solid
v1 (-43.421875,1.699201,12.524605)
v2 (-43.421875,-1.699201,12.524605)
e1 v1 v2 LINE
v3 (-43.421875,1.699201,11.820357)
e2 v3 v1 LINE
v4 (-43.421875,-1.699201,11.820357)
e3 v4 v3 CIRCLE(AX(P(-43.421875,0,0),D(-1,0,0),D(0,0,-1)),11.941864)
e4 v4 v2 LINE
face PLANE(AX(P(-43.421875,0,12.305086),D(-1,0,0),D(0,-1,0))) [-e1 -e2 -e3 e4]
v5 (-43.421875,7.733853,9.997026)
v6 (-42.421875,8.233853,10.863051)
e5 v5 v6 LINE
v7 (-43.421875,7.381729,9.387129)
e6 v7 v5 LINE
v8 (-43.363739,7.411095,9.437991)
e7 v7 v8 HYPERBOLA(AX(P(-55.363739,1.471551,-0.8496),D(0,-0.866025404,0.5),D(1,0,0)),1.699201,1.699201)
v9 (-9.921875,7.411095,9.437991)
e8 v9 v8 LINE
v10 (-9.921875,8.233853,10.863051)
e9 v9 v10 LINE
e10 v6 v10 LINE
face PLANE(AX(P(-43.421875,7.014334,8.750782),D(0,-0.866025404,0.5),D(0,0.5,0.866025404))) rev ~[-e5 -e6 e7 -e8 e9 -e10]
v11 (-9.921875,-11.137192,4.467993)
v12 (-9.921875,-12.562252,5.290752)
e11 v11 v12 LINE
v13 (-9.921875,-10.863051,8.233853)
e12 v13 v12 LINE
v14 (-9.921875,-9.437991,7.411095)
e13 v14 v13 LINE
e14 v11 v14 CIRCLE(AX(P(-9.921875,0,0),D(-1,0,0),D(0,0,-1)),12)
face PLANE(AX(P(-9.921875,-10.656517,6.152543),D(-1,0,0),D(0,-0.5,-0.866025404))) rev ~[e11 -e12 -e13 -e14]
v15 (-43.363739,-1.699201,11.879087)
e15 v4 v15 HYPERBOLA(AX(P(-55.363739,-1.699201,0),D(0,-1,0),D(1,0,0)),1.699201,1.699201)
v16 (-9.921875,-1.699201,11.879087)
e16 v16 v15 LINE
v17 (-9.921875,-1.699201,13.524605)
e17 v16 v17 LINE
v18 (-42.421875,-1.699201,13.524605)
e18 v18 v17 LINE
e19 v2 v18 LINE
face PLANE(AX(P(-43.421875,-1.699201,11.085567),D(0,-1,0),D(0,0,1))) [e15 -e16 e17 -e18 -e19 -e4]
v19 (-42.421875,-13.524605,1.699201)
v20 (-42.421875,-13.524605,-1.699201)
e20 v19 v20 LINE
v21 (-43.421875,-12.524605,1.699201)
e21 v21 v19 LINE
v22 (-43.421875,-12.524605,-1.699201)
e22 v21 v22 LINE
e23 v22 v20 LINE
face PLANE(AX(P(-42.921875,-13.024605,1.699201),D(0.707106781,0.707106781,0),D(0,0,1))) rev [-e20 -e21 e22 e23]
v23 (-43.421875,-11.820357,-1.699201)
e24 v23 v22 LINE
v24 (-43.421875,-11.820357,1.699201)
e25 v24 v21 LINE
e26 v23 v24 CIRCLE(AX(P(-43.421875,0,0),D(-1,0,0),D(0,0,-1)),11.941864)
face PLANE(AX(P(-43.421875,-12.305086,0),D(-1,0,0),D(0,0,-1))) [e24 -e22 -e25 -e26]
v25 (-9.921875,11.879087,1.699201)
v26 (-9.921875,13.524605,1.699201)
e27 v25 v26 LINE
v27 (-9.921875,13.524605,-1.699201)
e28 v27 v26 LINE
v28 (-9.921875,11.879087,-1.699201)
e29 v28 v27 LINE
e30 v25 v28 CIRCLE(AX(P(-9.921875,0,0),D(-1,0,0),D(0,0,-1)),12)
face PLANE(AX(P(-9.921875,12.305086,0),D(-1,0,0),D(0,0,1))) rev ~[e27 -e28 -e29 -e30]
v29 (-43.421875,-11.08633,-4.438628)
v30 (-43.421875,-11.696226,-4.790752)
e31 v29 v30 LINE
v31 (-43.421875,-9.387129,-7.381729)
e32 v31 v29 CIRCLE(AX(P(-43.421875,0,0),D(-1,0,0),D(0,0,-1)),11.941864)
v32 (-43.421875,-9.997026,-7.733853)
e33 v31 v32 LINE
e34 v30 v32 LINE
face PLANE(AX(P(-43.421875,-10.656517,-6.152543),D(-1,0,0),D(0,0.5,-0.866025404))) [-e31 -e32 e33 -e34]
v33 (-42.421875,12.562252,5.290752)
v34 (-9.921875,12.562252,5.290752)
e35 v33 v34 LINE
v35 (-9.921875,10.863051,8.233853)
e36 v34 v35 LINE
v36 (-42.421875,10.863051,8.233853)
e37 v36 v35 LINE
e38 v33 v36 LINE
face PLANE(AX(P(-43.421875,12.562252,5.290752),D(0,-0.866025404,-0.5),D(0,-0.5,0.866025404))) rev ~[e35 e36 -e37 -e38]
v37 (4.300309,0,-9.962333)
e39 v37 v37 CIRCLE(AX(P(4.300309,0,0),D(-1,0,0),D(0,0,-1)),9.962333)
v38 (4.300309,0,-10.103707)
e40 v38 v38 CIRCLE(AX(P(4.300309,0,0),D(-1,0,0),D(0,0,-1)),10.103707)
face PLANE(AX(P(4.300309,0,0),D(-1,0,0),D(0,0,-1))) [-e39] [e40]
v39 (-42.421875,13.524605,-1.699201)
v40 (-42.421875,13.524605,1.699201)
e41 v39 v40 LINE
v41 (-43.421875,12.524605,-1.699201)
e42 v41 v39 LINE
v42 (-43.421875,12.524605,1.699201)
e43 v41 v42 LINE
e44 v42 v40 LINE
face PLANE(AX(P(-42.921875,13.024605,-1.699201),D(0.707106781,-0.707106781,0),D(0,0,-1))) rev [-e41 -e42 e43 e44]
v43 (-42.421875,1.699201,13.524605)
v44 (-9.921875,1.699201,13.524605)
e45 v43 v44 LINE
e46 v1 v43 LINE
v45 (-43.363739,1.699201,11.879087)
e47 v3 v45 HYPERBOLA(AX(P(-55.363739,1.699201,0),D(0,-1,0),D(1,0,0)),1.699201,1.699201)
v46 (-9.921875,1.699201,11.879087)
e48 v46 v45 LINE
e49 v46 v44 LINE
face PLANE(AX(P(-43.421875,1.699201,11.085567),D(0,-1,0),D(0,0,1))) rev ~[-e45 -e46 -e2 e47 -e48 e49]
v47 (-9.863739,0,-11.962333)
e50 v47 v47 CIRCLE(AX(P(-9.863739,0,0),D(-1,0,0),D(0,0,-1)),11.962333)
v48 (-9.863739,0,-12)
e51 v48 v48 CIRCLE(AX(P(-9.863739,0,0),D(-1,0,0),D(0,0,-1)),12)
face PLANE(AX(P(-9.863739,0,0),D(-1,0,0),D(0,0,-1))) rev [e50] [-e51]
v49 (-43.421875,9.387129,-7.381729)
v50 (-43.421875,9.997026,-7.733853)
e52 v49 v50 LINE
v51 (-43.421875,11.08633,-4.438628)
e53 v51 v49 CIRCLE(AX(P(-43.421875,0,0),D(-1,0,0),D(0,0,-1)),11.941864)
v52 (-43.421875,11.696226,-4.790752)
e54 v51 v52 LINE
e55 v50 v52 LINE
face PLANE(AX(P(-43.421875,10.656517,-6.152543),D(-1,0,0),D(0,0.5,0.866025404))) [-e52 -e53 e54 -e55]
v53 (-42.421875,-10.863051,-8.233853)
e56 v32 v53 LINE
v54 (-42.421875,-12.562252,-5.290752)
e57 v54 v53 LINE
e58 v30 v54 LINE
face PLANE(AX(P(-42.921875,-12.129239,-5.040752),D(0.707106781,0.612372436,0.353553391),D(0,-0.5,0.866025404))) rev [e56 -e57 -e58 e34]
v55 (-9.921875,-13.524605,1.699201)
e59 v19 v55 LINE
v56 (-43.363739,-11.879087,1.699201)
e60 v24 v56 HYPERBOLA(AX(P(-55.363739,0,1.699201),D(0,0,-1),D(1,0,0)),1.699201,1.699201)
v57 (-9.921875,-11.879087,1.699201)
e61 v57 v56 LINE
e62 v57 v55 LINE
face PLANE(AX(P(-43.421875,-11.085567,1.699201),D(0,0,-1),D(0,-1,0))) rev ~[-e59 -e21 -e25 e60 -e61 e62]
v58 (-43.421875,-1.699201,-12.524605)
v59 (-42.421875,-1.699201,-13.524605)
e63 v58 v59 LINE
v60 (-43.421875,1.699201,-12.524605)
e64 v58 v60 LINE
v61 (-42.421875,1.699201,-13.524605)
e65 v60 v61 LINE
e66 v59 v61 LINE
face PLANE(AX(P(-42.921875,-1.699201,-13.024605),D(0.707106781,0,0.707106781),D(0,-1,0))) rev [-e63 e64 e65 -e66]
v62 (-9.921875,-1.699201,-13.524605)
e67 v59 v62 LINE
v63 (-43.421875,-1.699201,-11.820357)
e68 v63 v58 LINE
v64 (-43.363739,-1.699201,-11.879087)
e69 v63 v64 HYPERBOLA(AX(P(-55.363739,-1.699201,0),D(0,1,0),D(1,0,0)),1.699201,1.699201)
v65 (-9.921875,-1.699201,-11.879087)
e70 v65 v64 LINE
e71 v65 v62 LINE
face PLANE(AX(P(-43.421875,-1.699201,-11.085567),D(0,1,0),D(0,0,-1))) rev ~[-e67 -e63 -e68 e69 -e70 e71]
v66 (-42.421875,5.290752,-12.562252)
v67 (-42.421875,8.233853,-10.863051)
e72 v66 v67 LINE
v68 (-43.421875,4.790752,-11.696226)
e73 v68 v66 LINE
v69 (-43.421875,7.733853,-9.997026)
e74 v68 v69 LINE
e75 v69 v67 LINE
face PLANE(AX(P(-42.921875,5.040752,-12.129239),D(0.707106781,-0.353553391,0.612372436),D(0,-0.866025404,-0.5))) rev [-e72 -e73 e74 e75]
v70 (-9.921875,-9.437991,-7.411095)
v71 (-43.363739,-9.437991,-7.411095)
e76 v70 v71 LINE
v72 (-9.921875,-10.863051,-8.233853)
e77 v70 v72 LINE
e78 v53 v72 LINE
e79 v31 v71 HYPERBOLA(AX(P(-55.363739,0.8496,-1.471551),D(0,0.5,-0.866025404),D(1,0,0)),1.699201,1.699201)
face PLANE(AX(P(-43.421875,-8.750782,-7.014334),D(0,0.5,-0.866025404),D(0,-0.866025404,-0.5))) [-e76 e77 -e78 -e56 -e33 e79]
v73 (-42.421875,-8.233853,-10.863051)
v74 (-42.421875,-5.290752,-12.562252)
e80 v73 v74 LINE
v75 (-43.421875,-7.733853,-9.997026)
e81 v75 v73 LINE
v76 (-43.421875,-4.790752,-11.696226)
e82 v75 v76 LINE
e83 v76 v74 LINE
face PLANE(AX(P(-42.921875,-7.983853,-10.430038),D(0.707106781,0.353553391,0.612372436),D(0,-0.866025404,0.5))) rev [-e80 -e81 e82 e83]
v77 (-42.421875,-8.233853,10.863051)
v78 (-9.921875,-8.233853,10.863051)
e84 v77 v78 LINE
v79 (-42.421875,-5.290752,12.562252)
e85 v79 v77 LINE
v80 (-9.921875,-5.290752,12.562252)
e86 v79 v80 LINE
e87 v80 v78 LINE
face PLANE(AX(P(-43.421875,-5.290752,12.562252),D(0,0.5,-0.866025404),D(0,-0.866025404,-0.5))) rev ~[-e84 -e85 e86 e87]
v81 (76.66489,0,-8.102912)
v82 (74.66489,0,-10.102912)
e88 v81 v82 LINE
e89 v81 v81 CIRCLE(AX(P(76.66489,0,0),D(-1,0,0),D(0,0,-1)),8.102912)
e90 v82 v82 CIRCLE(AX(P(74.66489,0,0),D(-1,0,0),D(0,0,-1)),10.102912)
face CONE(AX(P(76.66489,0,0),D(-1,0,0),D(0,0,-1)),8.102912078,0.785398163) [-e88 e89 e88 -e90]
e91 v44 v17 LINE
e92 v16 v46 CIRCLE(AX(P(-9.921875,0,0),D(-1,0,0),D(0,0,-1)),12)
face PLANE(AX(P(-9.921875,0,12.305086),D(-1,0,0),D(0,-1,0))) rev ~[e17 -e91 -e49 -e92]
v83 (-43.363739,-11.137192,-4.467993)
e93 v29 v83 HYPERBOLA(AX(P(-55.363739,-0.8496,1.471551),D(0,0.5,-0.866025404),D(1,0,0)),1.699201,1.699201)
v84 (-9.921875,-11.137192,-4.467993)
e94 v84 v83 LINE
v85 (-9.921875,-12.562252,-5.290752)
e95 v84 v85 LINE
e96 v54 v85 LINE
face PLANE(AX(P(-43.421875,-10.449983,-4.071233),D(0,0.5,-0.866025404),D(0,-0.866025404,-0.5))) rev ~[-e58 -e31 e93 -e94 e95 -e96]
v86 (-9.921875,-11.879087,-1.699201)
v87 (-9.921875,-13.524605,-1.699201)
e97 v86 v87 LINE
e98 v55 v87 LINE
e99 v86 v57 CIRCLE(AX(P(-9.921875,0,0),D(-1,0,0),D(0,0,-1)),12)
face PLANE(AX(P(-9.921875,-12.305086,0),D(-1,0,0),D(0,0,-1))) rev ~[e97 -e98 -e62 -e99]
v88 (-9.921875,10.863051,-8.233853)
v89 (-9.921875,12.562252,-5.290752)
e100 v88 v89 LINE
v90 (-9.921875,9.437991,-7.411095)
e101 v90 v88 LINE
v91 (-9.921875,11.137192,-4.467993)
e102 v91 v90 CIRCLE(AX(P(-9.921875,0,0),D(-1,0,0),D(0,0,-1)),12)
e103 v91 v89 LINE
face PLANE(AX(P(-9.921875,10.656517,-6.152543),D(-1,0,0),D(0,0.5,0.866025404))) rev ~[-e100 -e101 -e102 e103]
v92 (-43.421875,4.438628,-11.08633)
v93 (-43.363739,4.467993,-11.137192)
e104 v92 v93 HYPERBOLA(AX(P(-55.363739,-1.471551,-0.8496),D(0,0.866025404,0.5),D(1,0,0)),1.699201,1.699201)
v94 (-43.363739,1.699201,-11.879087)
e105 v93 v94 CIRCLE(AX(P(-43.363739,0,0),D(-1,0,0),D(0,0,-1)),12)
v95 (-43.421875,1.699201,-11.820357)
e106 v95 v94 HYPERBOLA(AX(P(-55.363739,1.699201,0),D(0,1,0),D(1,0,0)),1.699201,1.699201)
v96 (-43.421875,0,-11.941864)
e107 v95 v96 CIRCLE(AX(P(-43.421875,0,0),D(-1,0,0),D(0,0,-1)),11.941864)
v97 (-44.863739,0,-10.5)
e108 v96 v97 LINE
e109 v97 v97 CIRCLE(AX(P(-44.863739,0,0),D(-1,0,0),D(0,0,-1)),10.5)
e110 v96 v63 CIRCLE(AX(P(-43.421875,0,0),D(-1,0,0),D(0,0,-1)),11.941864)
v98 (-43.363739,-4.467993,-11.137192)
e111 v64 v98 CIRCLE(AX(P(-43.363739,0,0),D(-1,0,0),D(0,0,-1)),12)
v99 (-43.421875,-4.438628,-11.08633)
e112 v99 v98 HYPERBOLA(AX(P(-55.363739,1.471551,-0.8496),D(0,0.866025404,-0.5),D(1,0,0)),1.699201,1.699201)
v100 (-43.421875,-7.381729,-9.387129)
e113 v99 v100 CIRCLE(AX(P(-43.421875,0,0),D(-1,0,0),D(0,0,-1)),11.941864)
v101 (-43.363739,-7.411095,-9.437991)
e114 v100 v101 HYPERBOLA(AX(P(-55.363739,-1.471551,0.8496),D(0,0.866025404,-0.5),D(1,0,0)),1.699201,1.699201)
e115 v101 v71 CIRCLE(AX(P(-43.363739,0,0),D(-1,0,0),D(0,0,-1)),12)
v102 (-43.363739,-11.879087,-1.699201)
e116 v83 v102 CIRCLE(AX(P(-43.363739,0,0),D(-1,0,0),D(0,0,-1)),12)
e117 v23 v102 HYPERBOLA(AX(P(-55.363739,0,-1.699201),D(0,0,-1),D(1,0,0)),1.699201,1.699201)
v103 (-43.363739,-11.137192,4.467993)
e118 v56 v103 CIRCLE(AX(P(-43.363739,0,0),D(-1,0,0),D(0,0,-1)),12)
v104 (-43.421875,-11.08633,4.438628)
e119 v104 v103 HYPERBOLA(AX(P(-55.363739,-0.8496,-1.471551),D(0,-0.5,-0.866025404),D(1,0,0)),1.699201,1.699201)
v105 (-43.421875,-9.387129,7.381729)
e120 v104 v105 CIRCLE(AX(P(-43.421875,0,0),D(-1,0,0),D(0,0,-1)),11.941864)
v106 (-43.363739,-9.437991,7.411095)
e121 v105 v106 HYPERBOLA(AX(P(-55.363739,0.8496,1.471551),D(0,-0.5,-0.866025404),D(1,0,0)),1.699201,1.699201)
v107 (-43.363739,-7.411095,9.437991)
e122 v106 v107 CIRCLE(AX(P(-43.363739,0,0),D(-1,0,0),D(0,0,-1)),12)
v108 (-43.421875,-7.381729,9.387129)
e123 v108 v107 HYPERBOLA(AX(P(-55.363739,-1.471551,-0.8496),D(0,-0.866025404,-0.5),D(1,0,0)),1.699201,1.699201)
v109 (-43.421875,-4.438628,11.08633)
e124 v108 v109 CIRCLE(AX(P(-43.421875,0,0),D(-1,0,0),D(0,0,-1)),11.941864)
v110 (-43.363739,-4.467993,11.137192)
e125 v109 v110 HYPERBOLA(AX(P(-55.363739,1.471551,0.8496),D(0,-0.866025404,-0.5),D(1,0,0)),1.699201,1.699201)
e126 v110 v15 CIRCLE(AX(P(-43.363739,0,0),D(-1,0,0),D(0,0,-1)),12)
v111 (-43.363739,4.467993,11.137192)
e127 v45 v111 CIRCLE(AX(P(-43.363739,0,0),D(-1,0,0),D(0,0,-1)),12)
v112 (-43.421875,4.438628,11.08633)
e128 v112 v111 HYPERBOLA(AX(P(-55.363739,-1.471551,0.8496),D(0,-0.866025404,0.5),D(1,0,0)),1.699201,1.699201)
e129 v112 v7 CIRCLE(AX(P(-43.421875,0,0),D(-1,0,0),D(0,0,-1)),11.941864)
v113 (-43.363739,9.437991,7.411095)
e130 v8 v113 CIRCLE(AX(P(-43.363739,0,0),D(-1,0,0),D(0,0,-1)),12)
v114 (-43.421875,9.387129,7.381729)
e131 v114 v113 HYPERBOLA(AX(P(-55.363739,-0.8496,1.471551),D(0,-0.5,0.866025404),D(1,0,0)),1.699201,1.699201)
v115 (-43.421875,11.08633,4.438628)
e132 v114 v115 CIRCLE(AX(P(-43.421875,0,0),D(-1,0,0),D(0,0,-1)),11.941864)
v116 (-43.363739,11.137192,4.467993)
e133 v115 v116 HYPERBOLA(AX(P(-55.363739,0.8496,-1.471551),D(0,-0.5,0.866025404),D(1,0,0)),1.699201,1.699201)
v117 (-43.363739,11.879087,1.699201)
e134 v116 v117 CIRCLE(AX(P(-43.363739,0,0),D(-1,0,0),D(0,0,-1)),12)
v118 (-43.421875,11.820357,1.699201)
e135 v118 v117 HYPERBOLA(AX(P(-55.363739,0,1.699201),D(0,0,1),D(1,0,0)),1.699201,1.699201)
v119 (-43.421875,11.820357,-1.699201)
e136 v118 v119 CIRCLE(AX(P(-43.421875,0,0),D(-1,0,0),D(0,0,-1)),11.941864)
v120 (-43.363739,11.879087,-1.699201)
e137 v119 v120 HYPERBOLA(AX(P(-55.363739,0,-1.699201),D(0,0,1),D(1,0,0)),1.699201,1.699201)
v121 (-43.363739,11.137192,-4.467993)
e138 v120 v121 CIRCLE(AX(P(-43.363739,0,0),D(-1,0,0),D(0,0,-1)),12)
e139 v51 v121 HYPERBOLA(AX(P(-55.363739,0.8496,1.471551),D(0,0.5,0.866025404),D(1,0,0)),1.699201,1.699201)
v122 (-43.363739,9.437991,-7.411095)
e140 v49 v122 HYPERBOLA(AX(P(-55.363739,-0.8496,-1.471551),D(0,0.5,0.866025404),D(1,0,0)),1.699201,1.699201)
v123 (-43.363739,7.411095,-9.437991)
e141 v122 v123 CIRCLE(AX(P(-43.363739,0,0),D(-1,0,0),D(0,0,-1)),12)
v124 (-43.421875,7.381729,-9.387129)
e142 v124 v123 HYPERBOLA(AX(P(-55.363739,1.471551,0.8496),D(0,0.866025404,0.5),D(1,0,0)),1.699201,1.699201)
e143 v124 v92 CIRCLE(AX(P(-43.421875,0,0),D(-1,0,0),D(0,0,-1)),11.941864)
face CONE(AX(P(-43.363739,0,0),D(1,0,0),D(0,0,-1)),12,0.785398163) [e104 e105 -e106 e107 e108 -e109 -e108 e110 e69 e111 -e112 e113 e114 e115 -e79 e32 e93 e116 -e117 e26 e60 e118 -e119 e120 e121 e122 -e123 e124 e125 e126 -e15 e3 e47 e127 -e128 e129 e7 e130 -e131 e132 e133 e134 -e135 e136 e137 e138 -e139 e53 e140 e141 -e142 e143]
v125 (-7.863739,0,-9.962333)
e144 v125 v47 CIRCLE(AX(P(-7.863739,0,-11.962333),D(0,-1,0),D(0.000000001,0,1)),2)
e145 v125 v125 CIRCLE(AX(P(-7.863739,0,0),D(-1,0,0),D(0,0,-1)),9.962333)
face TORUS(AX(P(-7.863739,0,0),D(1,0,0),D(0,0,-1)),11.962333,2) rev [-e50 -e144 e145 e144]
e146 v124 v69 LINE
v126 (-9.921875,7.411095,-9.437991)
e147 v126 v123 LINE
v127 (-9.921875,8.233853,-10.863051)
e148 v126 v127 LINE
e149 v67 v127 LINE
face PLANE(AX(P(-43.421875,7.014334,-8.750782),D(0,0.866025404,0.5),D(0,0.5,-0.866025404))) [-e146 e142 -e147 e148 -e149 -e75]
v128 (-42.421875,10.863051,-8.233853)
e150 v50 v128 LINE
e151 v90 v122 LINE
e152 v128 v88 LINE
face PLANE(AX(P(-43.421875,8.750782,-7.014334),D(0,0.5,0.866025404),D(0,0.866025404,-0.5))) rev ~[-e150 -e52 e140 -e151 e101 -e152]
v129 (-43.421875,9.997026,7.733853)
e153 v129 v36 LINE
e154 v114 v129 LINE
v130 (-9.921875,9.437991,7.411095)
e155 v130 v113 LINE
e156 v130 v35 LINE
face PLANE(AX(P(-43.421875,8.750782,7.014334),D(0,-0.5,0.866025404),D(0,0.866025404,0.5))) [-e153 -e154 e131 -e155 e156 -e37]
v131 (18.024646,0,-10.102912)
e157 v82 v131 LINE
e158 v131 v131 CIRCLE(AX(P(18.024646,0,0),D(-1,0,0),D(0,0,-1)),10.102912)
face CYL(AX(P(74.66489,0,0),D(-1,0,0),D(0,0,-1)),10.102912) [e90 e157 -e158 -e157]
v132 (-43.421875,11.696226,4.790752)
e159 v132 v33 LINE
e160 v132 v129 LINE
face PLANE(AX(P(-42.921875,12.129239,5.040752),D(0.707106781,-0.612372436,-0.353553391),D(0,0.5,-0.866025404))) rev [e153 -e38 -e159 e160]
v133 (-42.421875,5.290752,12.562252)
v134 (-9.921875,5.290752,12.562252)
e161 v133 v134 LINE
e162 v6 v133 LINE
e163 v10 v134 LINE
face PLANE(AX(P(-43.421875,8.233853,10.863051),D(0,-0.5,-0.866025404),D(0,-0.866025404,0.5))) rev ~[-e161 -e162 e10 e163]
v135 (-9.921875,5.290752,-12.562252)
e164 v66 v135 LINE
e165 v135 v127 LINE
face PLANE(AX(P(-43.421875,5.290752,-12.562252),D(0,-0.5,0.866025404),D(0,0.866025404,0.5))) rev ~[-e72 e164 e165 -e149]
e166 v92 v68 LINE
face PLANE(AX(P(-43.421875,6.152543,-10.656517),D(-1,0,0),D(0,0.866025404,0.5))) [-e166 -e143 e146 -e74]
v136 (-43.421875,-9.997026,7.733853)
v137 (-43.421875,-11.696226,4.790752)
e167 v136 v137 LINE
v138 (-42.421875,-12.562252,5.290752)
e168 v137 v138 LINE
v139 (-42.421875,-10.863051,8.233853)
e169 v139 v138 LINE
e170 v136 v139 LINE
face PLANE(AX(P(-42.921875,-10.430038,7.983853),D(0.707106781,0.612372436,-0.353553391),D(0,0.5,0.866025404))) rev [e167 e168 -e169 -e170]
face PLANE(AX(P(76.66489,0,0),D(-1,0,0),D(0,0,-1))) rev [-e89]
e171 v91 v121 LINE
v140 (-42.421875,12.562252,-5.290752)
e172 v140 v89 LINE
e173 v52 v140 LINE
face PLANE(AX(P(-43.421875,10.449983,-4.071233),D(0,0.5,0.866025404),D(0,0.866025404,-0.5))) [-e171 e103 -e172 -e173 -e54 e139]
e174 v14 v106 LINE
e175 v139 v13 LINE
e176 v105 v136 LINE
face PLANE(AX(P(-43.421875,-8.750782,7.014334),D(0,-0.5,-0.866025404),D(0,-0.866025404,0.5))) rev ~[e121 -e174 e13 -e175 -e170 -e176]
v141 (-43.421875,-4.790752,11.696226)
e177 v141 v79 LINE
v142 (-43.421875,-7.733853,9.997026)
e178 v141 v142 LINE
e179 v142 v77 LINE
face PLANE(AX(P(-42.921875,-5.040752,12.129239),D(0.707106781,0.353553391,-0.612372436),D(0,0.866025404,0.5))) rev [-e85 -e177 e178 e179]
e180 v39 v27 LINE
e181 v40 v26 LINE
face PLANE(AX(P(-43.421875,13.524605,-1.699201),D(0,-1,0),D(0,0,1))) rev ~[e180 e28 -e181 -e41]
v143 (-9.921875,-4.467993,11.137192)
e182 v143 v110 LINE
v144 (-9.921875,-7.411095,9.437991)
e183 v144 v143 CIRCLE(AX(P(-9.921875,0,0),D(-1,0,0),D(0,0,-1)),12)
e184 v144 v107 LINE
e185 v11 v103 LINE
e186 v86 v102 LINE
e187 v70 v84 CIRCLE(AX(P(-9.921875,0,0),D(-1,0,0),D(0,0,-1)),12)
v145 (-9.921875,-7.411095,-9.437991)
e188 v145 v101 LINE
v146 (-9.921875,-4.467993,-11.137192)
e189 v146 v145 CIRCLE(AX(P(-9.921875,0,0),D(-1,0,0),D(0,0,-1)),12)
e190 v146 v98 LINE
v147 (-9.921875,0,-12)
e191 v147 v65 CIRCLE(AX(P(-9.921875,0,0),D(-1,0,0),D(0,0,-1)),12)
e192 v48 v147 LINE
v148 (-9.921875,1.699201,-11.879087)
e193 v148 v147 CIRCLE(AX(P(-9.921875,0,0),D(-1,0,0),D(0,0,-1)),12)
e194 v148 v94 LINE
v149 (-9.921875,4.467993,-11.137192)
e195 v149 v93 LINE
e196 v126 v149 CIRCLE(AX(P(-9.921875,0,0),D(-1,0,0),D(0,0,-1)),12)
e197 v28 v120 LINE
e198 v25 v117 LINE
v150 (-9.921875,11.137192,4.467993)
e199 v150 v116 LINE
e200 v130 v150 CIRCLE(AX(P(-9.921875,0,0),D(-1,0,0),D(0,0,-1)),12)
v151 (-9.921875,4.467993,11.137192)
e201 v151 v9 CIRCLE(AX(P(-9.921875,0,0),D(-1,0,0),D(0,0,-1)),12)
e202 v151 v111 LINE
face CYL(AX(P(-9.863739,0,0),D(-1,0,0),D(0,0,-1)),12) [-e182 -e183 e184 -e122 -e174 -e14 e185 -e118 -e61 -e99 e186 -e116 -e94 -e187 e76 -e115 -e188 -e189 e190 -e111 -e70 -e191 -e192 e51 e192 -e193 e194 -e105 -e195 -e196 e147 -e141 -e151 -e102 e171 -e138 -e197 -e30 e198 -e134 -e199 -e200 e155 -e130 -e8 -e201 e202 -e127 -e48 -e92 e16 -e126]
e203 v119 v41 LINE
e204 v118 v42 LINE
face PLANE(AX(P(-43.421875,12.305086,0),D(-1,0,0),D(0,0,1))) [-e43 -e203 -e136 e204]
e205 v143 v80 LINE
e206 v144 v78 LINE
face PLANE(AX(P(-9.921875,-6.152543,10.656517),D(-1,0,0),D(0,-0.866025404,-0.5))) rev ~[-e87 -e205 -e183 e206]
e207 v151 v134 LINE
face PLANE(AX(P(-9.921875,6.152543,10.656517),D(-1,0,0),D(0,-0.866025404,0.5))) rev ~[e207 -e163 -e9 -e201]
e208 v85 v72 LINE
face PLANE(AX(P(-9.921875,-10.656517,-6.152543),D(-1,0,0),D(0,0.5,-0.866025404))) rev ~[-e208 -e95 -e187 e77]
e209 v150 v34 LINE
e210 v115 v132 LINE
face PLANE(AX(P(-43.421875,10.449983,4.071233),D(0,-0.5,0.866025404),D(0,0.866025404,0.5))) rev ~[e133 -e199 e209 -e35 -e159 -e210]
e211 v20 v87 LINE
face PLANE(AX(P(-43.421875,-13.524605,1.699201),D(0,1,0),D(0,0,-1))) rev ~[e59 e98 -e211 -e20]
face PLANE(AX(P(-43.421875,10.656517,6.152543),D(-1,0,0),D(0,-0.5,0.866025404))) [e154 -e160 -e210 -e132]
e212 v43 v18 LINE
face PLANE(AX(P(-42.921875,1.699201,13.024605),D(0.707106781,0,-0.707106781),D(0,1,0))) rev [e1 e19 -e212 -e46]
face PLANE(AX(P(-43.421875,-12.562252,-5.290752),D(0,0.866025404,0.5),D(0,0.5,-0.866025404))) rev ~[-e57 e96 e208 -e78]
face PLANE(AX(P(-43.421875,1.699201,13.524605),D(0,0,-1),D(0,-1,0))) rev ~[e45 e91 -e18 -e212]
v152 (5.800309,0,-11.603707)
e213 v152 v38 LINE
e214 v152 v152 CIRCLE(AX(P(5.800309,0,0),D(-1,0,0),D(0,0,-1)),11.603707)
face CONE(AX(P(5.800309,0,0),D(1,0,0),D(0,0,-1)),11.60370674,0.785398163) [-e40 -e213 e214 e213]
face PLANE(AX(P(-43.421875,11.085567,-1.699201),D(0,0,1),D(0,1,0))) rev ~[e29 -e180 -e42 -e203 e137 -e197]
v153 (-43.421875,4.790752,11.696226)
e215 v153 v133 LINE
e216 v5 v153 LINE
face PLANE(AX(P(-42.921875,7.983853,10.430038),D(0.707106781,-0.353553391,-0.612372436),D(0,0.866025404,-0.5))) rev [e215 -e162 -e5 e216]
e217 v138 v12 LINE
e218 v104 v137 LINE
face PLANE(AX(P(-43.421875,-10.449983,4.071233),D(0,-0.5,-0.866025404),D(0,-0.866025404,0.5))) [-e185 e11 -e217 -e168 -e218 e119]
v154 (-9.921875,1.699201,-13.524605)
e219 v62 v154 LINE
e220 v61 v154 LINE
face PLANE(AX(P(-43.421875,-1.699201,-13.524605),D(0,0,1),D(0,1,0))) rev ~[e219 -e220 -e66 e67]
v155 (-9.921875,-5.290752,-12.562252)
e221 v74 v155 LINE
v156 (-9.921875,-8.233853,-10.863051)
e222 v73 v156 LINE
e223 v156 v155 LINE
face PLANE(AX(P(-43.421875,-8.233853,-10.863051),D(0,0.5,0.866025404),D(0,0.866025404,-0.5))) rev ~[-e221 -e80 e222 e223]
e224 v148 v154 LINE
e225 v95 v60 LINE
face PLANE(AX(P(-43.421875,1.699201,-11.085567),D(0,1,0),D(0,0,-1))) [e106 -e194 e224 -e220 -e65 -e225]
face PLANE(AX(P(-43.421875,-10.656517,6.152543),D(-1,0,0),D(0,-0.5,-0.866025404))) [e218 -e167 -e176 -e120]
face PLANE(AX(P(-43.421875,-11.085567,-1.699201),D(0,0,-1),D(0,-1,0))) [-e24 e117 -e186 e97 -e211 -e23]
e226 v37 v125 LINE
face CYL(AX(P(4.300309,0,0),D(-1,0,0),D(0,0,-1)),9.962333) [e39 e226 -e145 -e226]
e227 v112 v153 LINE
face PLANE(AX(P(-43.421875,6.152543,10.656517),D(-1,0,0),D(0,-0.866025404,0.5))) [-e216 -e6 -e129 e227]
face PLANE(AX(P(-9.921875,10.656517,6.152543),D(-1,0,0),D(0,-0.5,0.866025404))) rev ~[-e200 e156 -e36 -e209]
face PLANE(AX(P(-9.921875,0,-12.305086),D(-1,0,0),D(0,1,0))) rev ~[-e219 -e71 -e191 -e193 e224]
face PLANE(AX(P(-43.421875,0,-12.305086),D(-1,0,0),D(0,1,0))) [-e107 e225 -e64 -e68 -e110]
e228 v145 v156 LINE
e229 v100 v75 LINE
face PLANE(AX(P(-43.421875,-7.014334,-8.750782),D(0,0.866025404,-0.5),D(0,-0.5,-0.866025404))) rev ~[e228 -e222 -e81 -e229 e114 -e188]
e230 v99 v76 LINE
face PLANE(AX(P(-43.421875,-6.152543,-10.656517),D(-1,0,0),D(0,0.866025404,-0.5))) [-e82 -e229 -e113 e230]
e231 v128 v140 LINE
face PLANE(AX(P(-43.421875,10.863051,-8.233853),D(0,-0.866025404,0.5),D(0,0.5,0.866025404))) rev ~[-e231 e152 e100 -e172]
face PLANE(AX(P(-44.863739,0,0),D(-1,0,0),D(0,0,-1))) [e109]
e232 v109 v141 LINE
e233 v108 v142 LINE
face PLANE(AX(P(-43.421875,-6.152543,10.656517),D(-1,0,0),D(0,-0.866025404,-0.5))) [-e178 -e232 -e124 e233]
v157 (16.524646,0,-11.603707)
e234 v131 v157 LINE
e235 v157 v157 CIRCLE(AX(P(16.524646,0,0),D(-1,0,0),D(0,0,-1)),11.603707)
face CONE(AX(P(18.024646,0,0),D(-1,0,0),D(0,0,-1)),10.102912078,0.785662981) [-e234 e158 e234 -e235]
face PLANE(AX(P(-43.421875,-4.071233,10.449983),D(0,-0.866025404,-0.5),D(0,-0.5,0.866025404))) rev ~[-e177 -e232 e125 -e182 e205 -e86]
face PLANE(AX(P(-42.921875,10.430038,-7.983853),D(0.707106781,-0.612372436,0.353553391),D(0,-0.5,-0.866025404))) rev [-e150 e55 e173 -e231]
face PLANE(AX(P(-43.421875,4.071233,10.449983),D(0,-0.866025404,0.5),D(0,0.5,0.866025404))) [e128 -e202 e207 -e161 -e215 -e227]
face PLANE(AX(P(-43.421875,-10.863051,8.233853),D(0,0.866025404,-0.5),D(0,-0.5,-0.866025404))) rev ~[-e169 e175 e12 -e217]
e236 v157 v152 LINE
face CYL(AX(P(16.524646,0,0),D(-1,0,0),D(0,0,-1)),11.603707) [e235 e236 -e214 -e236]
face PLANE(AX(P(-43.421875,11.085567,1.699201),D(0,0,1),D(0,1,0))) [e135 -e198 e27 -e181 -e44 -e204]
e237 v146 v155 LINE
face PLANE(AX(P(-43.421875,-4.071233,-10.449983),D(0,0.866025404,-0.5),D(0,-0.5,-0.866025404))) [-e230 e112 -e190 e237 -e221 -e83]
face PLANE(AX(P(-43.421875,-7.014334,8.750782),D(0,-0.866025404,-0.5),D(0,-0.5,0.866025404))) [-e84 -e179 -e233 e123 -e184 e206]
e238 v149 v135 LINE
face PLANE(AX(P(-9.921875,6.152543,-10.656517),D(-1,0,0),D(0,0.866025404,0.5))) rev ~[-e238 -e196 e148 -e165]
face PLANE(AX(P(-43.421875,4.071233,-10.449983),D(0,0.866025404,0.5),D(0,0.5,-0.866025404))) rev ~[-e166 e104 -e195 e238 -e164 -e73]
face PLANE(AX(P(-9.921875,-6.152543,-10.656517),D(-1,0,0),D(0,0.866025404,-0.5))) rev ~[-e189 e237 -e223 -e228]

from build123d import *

# Parameters (mm, degrees)
BOSS_EXTRUDE1_START = -1.5
SKETCH2_W           = 3.398401164
SKETCH2_H           = 2.43903778
BOSS_EXTRUDE1_DEPTH = 33.5
CIRPATTERN1_COUNT   = 12
CHAMFER1_SIZE       = 1


with BuildPart() as part:
    # Sketch1 → Revolve1 (revolve)
    with BuildSketch(Plane(origin=(0, 0, 0), x_dir=(1, 0, 0), z_dir=(0, 1, 0))):
        with BuildLine():
            Line((-44.863739249, 0), (76.664890153, 0))
            Line((76.664890153, 0), (76.664890153, 8.102912078))
            Line((76.664890153, 8.102912078), (74.664890153, 10.102912078))
            Line((74.664890153, 10.102912078), (18.02464627, 10.102912078))
            Line((18.02464627, 10.102912078), (16.52464627, 11.60370674))
            Line((16.52464627, 11.60370674), (5.800309153, 11.60370674))
            Line((5.800309153, 11.60370674), (4.300309153, 10.10370674))
            Line((4.300309153, 10.10370674), (4.300309153, 9.962333128))
            Line((4.300309153, 9.962333128), (-7.863739249, 9.962333128))
            ThreePointArc((-7.863739249, 9.962333128), (-9.277952812, 10.548119565), (-9.863739249, 11.962333128))
            Line((-9.863739249, 11.962333128), (-9.863739249, 12))
            Line((-9.863739249, 12), (-43.363739249, 12))
            Line((-43.363739249, 12), (-44.863739249, 10.5))
            Line((-44.863739249, 10.5), (-44.863739249, 0))
        make_face()
    revolve(axis=Axis((77.994791667, 0, 0), (-1, 0, 0)))

    # Sketch2 → Boss-Extrude1 (add)
    with BuildSketch(Plane.ZY.offset(44.921875).offset(BOSS_EXTRUDE1_START)):
        with Locations((0, 12.305085941)):
            Rectangle(SKETCH2_W, SKETCH2_H)
    boss_extrude1 = extrude(amount=-BOSS_EXTRUDE1_DEPTH)

    # CirPattern1: Boss-Extrude1 ×12 about axis
    cirpattern1_axis = Axis((0, 0, 0), (1, 0, 0))
    for i in range(1, CIRPATTERN1_COUNT):
        add(boss_extrude1.rotate(cirpattern1_axis, i * 360 / CIRPATTERN1_COUNT))

    # Chamfer1
    chamfer1_edges = [part.edges().sort_by_distance(p)[0] for p in [
        (-43.421875, -11.71265136, 6.762302416),
        (-43.421875, -13.524604831, 0),
        (-43.421875, -11.71265136, -6.762302416),
        (-43.421875, -6.762302416, -11.71265136),
        (-43.421875, 0, -13.524604831),
        (-43.421875, 6.762302416, -11.71265136),
        (-43.421875, 11.71265136, -6.762302416),
        (-43.421875, 13.524604831, 0),
        (-43.421875, 11.71265136, 6.762302416),
        (-43.421875, 6.762302416, 11.71265136),
        (-43.421875, 0, 13.524604831),
        (-43.421875, -6.762302416, 11.71265136),
    ]]
    chamfer(chamfer1_edges, length=CHAMFER1_SIZE)


solid = part.part
